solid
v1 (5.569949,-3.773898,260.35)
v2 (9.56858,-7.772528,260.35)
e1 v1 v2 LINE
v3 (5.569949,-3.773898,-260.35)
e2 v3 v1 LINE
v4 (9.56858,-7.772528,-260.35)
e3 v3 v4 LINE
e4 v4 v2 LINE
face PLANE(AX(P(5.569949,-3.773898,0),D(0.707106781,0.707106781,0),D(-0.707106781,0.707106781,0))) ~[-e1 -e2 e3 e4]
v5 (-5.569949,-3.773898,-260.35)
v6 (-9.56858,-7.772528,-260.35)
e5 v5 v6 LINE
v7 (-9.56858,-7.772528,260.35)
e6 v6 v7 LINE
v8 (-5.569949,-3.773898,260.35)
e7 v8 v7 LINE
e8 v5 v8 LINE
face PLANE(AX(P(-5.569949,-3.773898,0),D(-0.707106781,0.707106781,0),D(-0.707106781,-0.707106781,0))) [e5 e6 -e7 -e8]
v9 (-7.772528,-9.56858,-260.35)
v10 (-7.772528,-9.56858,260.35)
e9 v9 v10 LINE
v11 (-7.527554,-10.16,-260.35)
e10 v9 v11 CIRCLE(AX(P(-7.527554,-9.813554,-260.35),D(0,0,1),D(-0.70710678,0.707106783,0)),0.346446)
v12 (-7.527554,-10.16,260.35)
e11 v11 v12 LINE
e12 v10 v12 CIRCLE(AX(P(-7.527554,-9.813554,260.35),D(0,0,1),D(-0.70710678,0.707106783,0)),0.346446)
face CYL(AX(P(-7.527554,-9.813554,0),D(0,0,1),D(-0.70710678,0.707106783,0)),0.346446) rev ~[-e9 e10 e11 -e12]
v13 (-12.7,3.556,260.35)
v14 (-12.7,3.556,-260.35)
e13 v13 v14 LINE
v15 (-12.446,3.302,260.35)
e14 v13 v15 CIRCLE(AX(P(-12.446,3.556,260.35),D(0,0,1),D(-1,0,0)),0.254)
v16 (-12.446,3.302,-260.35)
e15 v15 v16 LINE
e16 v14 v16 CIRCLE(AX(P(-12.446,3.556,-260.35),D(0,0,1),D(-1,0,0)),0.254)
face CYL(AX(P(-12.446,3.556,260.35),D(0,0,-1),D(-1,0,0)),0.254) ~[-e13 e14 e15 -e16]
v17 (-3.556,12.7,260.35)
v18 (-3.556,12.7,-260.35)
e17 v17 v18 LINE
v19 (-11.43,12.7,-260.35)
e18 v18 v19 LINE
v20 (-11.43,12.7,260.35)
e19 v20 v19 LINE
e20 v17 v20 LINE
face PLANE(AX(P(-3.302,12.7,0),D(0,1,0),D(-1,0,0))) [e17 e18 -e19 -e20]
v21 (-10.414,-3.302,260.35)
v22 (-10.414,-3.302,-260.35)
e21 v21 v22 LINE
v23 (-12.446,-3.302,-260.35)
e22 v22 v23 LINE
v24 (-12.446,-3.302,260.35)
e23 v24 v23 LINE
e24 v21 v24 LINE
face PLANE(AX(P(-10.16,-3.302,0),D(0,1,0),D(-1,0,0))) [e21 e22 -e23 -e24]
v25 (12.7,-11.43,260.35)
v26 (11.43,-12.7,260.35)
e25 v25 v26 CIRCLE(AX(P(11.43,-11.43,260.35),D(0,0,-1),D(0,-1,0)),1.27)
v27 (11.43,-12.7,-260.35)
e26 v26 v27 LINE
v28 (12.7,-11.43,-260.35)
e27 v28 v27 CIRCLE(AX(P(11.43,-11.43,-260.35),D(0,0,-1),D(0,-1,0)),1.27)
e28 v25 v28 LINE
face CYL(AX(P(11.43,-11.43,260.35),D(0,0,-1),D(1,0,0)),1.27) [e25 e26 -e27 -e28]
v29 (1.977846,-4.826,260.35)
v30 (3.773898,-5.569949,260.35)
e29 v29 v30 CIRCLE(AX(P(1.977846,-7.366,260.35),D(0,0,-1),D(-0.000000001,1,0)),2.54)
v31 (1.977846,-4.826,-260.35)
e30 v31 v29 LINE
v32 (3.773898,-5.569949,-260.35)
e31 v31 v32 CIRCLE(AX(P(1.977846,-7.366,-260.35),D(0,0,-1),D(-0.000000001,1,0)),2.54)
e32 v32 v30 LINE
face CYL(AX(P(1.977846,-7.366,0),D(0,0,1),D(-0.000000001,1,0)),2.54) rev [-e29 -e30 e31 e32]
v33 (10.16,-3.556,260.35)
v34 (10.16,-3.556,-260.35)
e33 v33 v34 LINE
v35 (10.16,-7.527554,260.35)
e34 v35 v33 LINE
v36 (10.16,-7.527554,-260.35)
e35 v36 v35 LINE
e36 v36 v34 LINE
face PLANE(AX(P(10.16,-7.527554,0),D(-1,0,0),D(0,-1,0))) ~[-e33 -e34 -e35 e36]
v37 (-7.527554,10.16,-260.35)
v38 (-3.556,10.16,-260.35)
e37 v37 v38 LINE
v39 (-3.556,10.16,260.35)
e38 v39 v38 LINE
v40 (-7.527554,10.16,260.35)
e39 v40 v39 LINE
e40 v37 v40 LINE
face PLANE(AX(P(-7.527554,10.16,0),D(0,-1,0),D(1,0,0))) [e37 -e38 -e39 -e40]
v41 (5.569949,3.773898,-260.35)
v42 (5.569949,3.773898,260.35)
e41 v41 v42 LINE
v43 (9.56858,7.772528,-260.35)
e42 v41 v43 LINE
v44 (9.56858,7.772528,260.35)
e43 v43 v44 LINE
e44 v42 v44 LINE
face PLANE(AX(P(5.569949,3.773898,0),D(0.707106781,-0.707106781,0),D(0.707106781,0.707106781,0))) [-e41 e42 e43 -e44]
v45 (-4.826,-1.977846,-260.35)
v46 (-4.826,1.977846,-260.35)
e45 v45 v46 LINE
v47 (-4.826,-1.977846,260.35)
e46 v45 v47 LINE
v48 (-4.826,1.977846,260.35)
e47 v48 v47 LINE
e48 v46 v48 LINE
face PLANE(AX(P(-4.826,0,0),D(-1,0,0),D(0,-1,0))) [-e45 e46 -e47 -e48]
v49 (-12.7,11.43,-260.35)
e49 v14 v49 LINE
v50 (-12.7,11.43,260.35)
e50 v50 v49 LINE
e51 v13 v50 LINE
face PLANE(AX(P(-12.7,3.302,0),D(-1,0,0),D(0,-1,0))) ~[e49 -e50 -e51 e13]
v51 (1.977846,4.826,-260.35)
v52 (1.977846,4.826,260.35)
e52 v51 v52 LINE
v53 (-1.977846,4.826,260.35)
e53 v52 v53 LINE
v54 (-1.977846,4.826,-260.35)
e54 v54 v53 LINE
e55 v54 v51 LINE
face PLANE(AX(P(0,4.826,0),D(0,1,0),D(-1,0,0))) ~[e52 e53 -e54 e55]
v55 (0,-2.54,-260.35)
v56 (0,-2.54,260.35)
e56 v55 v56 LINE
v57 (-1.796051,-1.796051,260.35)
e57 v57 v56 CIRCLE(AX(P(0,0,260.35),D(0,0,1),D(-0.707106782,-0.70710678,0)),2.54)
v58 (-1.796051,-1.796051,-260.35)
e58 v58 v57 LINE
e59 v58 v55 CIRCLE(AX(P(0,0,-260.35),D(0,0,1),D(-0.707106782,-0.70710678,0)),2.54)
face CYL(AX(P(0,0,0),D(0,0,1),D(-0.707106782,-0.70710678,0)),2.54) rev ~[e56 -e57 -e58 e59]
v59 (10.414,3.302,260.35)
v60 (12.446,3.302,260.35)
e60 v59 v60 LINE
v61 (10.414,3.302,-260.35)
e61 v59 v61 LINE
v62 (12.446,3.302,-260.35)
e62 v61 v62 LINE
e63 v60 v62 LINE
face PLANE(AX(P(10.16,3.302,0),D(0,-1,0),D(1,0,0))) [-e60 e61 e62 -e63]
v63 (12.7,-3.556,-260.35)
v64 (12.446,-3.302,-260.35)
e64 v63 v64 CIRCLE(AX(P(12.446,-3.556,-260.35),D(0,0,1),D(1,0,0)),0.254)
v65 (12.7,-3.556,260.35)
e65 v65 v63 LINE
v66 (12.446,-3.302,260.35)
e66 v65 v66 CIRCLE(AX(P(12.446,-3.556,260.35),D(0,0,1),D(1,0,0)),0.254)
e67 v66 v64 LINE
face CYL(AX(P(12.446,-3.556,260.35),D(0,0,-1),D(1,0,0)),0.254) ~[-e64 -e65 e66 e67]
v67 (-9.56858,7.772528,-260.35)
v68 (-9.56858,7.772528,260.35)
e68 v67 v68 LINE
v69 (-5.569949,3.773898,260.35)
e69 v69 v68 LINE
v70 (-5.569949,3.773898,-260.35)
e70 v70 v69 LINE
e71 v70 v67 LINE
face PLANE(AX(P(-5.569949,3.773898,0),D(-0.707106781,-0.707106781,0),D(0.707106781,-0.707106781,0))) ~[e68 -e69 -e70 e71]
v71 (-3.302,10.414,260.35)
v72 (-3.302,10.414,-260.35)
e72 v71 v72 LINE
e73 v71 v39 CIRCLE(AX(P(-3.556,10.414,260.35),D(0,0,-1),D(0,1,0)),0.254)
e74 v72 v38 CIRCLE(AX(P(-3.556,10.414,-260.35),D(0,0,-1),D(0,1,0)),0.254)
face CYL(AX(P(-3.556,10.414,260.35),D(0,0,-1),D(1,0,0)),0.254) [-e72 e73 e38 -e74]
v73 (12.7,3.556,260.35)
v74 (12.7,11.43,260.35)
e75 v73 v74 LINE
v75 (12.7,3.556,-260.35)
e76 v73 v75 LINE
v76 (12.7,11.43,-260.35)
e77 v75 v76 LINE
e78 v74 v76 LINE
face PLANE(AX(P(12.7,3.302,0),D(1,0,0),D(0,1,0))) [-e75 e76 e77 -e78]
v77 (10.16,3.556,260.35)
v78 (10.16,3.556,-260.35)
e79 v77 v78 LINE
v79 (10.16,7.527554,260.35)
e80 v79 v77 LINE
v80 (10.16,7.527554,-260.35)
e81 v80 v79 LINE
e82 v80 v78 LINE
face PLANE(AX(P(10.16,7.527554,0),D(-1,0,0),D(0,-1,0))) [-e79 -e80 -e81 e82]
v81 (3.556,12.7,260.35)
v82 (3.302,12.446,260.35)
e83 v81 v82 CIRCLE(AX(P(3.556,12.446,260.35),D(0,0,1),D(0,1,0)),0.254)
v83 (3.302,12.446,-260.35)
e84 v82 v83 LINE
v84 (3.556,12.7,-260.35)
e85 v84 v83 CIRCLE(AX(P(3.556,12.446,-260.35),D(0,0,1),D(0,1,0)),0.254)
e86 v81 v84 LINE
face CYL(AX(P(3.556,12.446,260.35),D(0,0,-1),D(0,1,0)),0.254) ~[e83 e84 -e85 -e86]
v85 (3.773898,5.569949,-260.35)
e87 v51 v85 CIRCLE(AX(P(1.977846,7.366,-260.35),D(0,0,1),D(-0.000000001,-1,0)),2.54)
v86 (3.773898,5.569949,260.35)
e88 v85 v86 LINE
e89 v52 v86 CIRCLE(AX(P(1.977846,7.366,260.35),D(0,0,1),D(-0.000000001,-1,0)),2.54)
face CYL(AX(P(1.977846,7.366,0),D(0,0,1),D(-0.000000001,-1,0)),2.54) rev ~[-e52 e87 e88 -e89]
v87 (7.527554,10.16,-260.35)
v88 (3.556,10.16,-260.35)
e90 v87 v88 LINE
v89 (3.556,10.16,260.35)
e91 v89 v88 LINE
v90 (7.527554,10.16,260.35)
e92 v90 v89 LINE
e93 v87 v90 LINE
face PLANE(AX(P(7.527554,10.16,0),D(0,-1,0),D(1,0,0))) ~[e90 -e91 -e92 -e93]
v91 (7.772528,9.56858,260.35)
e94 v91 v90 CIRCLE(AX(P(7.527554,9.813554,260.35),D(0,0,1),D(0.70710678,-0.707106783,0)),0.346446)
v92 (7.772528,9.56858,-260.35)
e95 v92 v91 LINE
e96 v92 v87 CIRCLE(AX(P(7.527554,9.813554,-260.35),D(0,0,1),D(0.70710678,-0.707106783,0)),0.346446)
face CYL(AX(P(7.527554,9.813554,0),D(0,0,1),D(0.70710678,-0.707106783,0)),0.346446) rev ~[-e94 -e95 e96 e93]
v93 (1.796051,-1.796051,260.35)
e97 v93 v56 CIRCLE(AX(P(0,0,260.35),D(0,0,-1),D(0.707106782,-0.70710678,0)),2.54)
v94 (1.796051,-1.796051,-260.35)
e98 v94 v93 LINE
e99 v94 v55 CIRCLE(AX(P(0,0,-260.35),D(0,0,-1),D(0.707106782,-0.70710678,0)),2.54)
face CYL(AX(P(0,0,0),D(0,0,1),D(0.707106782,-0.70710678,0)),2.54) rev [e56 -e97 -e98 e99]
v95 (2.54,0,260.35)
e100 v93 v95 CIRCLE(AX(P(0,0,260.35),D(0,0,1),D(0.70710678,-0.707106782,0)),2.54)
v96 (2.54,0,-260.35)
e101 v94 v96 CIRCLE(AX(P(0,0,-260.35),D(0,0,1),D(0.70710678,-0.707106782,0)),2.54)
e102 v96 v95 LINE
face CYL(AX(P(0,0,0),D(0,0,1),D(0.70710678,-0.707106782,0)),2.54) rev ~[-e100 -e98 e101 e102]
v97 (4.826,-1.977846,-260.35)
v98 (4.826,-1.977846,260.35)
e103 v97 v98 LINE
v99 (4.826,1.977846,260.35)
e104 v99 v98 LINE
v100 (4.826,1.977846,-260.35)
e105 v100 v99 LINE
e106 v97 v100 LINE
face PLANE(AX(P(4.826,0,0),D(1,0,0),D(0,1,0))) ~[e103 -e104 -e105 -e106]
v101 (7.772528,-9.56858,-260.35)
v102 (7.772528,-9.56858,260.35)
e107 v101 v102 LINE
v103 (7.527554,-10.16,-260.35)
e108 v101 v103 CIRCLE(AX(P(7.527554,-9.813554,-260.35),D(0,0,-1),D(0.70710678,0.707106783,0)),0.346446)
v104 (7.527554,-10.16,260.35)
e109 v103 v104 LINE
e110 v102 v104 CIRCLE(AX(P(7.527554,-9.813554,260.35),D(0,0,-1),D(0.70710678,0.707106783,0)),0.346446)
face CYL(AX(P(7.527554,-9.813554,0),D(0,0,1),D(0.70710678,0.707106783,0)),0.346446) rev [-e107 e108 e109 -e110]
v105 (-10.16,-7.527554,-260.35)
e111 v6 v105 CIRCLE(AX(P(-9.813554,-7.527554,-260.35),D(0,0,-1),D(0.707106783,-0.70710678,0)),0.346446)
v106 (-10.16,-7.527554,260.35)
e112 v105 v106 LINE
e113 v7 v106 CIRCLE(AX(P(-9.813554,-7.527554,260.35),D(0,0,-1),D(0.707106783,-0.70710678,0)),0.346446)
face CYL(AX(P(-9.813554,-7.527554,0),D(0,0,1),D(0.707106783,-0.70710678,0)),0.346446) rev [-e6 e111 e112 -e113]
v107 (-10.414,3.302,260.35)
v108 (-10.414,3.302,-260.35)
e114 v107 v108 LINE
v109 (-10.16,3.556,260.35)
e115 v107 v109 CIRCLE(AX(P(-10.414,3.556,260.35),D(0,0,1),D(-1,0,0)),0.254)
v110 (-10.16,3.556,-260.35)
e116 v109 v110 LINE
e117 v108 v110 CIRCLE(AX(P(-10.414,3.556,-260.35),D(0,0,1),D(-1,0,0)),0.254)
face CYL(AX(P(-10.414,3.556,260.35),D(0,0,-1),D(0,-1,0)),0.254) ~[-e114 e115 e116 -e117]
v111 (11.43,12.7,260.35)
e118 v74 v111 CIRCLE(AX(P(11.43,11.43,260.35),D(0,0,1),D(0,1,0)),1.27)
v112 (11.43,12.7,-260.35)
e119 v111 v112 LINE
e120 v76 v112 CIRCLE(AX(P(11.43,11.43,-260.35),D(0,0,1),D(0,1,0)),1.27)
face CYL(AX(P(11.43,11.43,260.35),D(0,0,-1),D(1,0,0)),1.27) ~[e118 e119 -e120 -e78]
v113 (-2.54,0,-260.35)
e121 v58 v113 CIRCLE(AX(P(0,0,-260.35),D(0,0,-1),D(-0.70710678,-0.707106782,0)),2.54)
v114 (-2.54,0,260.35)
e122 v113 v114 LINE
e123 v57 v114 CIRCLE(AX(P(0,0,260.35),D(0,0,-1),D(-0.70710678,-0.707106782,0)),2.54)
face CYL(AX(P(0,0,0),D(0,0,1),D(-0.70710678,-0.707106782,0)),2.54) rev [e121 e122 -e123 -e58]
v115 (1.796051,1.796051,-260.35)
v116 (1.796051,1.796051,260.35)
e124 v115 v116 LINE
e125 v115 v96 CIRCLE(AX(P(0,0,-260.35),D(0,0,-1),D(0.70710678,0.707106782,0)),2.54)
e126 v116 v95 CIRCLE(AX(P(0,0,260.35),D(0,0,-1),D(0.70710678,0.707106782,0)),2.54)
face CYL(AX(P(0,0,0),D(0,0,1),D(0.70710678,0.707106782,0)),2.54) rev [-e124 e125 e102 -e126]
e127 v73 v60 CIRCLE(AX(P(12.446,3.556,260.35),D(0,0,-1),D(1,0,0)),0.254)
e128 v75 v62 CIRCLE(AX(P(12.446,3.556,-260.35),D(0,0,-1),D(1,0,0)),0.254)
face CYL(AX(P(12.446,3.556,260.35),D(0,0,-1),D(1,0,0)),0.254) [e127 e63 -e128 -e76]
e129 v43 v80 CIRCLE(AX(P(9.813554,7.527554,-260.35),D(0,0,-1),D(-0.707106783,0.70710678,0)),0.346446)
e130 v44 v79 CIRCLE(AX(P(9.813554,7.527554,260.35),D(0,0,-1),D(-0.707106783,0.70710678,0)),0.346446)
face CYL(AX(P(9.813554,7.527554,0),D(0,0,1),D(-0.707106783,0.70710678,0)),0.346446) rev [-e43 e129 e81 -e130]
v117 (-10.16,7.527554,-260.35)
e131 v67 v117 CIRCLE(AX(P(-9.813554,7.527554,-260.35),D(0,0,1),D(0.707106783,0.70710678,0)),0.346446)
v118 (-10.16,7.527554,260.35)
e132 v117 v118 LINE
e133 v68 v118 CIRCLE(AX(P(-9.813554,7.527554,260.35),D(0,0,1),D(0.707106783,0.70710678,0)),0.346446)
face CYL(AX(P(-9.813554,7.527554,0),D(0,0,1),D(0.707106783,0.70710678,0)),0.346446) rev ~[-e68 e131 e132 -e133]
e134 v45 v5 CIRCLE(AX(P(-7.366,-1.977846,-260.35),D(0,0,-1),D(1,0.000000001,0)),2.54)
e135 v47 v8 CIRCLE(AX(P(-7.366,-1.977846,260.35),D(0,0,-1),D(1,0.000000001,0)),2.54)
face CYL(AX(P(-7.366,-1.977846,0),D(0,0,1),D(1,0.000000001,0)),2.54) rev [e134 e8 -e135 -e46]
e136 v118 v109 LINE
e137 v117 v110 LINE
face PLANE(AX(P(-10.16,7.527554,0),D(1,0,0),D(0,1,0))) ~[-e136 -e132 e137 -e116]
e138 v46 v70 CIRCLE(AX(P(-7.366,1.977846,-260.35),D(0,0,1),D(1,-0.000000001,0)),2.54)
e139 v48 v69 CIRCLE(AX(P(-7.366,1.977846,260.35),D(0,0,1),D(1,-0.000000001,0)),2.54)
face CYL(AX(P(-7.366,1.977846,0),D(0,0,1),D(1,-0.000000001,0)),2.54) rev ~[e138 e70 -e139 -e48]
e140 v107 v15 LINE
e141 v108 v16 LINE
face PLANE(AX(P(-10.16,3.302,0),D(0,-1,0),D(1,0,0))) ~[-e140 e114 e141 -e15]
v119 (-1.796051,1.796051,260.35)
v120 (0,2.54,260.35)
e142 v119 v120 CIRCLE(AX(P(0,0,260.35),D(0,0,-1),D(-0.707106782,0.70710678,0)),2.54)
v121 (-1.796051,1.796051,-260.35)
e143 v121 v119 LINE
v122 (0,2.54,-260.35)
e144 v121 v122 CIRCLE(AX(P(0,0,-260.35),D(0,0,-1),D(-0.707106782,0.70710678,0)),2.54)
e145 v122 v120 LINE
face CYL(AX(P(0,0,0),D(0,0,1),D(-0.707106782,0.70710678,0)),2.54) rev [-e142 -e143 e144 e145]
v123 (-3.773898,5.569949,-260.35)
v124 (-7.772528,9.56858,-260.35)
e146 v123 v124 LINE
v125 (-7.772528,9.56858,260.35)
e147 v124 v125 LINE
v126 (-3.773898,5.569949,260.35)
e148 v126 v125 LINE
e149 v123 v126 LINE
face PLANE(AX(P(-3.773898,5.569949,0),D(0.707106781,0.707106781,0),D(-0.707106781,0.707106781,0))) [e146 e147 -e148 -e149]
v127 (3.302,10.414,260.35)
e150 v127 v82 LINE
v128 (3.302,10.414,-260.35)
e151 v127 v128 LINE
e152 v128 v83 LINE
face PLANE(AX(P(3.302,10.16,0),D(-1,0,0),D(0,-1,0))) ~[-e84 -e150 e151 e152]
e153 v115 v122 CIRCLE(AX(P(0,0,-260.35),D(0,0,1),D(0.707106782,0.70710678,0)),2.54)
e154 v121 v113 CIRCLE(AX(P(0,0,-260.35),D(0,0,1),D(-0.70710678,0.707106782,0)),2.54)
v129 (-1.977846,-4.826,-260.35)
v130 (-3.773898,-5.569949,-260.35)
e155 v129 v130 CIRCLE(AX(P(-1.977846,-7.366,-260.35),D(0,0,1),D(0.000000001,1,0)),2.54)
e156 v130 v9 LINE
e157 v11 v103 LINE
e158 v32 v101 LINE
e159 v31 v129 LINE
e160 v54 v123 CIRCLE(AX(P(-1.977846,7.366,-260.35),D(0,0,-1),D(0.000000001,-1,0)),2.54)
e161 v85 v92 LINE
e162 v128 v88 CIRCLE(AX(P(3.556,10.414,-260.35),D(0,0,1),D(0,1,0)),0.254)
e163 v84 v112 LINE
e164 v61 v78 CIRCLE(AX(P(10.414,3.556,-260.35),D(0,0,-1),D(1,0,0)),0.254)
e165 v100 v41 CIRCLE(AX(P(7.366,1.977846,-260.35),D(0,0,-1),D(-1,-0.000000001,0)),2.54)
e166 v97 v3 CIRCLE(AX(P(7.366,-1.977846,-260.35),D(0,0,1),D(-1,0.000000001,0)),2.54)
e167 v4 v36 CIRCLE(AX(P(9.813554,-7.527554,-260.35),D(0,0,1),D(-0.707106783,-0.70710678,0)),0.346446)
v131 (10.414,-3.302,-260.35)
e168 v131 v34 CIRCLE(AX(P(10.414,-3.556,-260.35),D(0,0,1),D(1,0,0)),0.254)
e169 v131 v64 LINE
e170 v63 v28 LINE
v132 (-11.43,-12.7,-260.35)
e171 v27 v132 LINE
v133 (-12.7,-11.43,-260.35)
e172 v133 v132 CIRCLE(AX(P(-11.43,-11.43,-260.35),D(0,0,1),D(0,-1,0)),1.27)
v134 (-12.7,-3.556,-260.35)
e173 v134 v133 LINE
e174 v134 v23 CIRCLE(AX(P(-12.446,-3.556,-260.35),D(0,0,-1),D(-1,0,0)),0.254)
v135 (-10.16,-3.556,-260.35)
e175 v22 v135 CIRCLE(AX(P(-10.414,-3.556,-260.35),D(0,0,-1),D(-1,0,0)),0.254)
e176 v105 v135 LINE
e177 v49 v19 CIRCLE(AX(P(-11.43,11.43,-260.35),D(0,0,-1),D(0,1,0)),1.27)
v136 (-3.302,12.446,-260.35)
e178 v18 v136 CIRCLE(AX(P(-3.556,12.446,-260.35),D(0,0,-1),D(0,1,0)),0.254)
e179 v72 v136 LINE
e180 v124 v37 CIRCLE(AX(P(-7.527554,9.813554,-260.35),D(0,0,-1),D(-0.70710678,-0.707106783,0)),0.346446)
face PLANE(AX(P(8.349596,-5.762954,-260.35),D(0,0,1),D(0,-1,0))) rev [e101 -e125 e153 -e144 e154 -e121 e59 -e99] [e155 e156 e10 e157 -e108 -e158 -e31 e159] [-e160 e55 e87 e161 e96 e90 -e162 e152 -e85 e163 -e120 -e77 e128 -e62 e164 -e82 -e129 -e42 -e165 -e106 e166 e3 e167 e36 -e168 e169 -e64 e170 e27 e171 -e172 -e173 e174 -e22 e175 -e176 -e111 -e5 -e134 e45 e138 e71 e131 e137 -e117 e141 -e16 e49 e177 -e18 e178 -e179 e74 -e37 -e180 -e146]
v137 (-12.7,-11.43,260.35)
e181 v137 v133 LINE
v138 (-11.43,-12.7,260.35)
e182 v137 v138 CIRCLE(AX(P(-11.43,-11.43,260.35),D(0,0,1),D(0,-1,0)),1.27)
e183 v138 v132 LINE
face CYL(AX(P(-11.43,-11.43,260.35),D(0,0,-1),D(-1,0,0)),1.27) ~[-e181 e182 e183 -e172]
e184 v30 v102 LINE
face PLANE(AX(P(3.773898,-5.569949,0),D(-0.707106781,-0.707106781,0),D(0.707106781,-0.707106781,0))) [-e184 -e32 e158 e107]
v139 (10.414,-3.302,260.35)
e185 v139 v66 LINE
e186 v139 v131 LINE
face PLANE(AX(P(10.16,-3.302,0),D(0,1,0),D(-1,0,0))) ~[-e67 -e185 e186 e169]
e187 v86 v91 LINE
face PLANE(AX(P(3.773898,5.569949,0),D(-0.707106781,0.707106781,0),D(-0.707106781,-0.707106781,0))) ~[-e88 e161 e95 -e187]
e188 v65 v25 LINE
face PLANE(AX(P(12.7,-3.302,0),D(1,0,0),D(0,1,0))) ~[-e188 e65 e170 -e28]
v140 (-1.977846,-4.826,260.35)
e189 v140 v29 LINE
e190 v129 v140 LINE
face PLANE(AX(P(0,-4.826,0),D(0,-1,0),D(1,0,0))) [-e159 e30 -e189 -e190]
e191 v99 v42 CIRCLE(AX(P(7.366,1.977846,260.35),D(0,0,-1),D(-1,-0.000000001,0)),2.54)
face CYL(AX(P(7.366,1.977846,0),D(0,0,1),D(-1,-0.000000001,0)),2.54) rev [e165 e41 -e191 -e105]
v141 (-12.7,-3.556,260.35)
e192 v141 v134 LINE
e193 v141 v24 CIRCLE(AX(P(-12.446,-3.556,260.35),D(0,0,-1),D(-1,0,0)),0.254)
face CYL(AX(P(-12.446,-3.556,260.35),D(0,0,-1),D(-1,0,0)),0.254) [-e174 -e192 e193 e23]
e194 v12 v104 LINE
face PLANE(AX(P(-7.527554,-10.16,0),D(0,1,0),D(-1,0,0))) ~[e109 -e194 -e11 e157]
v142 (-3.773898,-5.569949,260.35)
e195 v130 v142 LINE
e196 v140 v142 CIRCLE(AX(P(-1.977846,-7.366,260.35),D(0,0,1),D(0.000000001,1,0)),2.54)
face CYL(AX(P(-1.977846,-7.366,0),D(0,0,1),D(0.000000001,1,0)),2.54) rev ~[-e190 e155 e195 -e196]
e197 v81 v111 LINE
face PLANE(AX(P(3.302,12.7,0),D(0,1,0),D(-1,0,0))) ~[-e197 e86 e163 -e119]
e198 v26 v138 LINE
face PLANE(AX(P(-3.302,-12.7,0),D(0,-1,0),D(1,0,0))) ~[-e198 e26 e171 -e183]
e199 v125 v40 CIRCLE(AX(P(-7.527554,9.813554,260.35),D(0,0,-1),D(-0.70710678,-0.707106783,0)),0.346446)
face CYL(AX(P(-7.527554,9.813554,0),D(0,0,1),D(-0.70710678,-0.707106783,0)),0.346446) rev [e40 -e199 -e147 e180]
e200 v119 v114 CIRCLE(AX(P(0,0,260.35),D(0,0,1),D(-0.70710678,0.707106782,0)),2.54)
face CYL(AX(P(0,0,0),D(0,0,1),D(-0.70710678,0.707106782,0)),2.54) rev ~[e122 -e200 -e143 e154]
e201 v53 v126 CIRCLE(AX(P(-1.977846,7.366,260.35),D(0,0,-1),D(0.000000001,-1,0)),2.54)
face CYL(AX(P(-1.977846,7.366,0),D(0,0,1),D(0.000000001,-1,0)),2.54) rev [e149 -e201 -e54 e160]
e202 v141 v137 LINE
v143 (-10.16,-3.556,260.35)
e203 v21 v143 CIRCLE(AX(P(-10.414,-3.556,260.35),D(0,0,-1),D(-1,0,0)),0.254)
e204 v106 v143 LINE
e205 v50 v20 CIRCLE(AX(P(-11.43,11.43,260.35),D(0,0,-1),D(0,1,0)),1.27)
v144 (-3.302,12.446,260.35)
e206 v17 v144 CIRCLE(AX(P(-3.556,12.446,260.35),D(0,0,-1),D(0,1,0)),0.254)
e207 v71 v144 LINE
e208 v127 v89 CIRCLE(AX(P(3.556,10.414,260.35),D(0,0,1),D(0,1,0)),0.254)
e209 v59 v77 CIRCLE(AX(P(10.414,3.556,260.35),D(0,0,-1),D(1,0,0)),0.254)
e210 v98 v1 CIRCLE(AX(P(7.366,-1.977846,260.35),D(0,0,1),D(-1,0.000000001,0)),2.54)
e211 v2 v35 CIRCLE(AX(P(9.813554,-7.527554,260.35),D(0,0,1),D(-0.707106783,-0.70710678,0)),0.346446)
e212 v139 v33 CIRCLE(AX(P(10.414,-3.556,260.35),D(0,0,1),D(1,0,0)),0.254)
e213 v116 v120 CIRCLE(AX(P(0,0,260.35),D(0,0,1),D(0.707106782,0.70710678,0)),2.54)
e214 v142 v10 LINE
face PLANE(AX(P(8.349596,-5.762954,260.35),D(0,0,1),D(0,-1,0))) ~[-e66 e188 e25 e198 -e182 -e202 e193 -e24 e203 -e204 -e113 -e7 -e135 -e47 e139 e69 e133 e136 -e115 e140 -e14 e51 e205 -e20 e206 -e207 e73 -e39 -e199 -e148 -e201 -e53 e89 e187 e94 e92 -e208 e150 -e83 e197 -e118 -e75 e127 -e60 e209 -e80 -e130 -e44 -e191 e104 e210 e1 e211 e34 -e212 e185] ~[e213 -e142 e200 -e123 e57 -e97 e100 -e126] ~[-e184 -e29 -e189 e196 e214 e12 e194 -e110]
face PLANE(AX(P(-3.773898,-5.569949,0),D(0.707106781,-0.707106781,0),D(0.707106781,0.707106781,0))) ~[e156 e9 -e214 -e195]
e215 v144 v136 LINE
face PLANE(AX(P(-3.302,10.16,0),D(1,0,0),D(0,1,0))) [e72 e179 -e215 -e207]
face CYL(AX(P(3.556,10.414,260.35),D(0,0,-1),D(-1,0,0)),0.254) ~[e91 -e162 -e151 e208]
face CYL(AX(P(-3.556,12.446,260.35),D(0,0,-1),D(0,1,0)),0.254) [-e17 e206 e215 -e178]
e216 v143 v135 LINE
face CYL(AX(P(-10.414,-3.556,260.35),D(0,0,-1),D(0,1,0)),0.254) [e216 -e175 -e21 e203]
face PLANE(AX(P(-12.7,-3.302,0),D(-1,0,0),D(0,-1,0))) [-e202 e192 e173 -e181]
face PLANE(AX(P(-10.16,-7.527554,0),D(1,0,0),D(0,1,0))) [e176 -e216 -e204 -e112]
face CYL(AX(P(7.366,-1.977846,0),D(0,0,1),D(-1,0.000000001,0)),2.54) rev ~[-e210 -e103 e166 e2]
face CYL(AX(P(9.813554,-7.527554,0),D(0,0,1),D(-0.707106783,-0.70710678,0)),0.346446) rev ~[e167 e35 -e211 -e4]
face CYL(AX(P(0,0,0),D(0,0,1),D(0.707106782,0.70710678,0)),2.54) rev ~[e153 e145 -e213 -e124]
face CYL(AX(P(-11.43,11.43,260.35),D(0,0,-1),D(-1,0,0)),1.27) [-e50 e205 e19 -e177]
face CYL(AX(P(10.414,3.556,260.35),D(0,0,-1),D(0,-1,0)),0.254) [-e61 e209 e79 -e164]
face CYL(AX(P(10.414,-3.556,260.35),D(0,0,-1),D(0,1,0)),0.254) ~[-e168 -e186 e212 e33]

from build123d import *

# Parameters (mm, degrees)
BOSS_EXTRUDE1_DEPTH = 260.35
FILLET2_R           = 0.254
FILLET1_R           = 1.27
SKETCH5_W           = 7.112
SKETCH5_H           = 2.54
BOSS_EXTRUDE2_DEPTH = 520.7


with BuildPart() as part:
    # Sketch3 → Boss-Extrude1 (new body, symmetric)
    with BuildSketch(Plane.XY):
        with BuildLine():
            Line((-12.7, 12.7), (-1.796051224, 1.796051224))
            ThreePointArc((-1.796051224, 1.796051224), (-0.972015918, 2.346654013), (0, 2.54))
            Line((0, 2.54), (0, 4.826))
            Line((0, 4.826), (-1.977846327, 4.826))
            ThreePointArc((-1.977846327, 4.826), (-2.949862246, 5.019345987), (-3.773897552, 5.569948776))
            Line((-3.773897552, 5.569948776), (-7.772528286, 9.56857951))
            ThreePointArc((-7.772528286, 9.56857951), (-7.847628361, 9.946133082), (-7.527553898, 10.16))
            Line((-7.527553898, 10.16), (-3.302, 10.16))
            Line((-3.302, 10.16), (-3.302, 12.7))
            Line((-3.302, 12.7), (-12.7, 12.7))
        make_face()
    extrude(amount=BOSS_EXTRUDE1_DEPTH, both=True)

    # Fillet2
    fillet2_edges = [part.edges().sort_by_distance(p)[0] for p in [
        (-3.302, 12.7, 0),
        (-3.302, 10.16, 0),
    ]]
    fillet(fillet2_edges, radius=FILLET2_R)

    # Mirror1: part across plane


with BuildPart() as part_1:
    add(part.part)
    add(part.part.mirror(Plane(origin=(0, 0, 260.35), x_dir=(0, 0, 1), z_dir=(0.707106781, 0.707106781, 0))))

    # Fillet1
    fillet1_edges = [part_1.edges().sort_by_distance(p)[0] for p in [
        (-12.7, 12.7, 0),
    ]]
    fillet(fillet1_edges, radius=FILLET1_R)

    # Mirror2: part across plane


with BuildPart() as part_2:
    add(part_1.part)
    add(part_1.part.mirror(Plane(origin=(0, 0, 260.35), x_dir=(0, 0, 1), z_dir=(0, 1, 0))))

    # Mirror5: part across plane


with BuildPart() as part_3:
    add(part_2.part)
    add(part_2.part.mirror(Plane(origin=(0, 0, 260.35), x_dir=(0, 0, 1), z_dir=(-1, 0, 0))))

    # Sketch5 → Boss-Extrude2 (add, through all)
    with BuildSketch(Plane.XY.offset(260.35)):
        with Locations((0, -11.43)):
            Rectangle(SKETCH5_W, SKETCH5_H)
    extrude(amount=-BOSS_EXTRUDE2_DEPTH)


solid = part_3.part
